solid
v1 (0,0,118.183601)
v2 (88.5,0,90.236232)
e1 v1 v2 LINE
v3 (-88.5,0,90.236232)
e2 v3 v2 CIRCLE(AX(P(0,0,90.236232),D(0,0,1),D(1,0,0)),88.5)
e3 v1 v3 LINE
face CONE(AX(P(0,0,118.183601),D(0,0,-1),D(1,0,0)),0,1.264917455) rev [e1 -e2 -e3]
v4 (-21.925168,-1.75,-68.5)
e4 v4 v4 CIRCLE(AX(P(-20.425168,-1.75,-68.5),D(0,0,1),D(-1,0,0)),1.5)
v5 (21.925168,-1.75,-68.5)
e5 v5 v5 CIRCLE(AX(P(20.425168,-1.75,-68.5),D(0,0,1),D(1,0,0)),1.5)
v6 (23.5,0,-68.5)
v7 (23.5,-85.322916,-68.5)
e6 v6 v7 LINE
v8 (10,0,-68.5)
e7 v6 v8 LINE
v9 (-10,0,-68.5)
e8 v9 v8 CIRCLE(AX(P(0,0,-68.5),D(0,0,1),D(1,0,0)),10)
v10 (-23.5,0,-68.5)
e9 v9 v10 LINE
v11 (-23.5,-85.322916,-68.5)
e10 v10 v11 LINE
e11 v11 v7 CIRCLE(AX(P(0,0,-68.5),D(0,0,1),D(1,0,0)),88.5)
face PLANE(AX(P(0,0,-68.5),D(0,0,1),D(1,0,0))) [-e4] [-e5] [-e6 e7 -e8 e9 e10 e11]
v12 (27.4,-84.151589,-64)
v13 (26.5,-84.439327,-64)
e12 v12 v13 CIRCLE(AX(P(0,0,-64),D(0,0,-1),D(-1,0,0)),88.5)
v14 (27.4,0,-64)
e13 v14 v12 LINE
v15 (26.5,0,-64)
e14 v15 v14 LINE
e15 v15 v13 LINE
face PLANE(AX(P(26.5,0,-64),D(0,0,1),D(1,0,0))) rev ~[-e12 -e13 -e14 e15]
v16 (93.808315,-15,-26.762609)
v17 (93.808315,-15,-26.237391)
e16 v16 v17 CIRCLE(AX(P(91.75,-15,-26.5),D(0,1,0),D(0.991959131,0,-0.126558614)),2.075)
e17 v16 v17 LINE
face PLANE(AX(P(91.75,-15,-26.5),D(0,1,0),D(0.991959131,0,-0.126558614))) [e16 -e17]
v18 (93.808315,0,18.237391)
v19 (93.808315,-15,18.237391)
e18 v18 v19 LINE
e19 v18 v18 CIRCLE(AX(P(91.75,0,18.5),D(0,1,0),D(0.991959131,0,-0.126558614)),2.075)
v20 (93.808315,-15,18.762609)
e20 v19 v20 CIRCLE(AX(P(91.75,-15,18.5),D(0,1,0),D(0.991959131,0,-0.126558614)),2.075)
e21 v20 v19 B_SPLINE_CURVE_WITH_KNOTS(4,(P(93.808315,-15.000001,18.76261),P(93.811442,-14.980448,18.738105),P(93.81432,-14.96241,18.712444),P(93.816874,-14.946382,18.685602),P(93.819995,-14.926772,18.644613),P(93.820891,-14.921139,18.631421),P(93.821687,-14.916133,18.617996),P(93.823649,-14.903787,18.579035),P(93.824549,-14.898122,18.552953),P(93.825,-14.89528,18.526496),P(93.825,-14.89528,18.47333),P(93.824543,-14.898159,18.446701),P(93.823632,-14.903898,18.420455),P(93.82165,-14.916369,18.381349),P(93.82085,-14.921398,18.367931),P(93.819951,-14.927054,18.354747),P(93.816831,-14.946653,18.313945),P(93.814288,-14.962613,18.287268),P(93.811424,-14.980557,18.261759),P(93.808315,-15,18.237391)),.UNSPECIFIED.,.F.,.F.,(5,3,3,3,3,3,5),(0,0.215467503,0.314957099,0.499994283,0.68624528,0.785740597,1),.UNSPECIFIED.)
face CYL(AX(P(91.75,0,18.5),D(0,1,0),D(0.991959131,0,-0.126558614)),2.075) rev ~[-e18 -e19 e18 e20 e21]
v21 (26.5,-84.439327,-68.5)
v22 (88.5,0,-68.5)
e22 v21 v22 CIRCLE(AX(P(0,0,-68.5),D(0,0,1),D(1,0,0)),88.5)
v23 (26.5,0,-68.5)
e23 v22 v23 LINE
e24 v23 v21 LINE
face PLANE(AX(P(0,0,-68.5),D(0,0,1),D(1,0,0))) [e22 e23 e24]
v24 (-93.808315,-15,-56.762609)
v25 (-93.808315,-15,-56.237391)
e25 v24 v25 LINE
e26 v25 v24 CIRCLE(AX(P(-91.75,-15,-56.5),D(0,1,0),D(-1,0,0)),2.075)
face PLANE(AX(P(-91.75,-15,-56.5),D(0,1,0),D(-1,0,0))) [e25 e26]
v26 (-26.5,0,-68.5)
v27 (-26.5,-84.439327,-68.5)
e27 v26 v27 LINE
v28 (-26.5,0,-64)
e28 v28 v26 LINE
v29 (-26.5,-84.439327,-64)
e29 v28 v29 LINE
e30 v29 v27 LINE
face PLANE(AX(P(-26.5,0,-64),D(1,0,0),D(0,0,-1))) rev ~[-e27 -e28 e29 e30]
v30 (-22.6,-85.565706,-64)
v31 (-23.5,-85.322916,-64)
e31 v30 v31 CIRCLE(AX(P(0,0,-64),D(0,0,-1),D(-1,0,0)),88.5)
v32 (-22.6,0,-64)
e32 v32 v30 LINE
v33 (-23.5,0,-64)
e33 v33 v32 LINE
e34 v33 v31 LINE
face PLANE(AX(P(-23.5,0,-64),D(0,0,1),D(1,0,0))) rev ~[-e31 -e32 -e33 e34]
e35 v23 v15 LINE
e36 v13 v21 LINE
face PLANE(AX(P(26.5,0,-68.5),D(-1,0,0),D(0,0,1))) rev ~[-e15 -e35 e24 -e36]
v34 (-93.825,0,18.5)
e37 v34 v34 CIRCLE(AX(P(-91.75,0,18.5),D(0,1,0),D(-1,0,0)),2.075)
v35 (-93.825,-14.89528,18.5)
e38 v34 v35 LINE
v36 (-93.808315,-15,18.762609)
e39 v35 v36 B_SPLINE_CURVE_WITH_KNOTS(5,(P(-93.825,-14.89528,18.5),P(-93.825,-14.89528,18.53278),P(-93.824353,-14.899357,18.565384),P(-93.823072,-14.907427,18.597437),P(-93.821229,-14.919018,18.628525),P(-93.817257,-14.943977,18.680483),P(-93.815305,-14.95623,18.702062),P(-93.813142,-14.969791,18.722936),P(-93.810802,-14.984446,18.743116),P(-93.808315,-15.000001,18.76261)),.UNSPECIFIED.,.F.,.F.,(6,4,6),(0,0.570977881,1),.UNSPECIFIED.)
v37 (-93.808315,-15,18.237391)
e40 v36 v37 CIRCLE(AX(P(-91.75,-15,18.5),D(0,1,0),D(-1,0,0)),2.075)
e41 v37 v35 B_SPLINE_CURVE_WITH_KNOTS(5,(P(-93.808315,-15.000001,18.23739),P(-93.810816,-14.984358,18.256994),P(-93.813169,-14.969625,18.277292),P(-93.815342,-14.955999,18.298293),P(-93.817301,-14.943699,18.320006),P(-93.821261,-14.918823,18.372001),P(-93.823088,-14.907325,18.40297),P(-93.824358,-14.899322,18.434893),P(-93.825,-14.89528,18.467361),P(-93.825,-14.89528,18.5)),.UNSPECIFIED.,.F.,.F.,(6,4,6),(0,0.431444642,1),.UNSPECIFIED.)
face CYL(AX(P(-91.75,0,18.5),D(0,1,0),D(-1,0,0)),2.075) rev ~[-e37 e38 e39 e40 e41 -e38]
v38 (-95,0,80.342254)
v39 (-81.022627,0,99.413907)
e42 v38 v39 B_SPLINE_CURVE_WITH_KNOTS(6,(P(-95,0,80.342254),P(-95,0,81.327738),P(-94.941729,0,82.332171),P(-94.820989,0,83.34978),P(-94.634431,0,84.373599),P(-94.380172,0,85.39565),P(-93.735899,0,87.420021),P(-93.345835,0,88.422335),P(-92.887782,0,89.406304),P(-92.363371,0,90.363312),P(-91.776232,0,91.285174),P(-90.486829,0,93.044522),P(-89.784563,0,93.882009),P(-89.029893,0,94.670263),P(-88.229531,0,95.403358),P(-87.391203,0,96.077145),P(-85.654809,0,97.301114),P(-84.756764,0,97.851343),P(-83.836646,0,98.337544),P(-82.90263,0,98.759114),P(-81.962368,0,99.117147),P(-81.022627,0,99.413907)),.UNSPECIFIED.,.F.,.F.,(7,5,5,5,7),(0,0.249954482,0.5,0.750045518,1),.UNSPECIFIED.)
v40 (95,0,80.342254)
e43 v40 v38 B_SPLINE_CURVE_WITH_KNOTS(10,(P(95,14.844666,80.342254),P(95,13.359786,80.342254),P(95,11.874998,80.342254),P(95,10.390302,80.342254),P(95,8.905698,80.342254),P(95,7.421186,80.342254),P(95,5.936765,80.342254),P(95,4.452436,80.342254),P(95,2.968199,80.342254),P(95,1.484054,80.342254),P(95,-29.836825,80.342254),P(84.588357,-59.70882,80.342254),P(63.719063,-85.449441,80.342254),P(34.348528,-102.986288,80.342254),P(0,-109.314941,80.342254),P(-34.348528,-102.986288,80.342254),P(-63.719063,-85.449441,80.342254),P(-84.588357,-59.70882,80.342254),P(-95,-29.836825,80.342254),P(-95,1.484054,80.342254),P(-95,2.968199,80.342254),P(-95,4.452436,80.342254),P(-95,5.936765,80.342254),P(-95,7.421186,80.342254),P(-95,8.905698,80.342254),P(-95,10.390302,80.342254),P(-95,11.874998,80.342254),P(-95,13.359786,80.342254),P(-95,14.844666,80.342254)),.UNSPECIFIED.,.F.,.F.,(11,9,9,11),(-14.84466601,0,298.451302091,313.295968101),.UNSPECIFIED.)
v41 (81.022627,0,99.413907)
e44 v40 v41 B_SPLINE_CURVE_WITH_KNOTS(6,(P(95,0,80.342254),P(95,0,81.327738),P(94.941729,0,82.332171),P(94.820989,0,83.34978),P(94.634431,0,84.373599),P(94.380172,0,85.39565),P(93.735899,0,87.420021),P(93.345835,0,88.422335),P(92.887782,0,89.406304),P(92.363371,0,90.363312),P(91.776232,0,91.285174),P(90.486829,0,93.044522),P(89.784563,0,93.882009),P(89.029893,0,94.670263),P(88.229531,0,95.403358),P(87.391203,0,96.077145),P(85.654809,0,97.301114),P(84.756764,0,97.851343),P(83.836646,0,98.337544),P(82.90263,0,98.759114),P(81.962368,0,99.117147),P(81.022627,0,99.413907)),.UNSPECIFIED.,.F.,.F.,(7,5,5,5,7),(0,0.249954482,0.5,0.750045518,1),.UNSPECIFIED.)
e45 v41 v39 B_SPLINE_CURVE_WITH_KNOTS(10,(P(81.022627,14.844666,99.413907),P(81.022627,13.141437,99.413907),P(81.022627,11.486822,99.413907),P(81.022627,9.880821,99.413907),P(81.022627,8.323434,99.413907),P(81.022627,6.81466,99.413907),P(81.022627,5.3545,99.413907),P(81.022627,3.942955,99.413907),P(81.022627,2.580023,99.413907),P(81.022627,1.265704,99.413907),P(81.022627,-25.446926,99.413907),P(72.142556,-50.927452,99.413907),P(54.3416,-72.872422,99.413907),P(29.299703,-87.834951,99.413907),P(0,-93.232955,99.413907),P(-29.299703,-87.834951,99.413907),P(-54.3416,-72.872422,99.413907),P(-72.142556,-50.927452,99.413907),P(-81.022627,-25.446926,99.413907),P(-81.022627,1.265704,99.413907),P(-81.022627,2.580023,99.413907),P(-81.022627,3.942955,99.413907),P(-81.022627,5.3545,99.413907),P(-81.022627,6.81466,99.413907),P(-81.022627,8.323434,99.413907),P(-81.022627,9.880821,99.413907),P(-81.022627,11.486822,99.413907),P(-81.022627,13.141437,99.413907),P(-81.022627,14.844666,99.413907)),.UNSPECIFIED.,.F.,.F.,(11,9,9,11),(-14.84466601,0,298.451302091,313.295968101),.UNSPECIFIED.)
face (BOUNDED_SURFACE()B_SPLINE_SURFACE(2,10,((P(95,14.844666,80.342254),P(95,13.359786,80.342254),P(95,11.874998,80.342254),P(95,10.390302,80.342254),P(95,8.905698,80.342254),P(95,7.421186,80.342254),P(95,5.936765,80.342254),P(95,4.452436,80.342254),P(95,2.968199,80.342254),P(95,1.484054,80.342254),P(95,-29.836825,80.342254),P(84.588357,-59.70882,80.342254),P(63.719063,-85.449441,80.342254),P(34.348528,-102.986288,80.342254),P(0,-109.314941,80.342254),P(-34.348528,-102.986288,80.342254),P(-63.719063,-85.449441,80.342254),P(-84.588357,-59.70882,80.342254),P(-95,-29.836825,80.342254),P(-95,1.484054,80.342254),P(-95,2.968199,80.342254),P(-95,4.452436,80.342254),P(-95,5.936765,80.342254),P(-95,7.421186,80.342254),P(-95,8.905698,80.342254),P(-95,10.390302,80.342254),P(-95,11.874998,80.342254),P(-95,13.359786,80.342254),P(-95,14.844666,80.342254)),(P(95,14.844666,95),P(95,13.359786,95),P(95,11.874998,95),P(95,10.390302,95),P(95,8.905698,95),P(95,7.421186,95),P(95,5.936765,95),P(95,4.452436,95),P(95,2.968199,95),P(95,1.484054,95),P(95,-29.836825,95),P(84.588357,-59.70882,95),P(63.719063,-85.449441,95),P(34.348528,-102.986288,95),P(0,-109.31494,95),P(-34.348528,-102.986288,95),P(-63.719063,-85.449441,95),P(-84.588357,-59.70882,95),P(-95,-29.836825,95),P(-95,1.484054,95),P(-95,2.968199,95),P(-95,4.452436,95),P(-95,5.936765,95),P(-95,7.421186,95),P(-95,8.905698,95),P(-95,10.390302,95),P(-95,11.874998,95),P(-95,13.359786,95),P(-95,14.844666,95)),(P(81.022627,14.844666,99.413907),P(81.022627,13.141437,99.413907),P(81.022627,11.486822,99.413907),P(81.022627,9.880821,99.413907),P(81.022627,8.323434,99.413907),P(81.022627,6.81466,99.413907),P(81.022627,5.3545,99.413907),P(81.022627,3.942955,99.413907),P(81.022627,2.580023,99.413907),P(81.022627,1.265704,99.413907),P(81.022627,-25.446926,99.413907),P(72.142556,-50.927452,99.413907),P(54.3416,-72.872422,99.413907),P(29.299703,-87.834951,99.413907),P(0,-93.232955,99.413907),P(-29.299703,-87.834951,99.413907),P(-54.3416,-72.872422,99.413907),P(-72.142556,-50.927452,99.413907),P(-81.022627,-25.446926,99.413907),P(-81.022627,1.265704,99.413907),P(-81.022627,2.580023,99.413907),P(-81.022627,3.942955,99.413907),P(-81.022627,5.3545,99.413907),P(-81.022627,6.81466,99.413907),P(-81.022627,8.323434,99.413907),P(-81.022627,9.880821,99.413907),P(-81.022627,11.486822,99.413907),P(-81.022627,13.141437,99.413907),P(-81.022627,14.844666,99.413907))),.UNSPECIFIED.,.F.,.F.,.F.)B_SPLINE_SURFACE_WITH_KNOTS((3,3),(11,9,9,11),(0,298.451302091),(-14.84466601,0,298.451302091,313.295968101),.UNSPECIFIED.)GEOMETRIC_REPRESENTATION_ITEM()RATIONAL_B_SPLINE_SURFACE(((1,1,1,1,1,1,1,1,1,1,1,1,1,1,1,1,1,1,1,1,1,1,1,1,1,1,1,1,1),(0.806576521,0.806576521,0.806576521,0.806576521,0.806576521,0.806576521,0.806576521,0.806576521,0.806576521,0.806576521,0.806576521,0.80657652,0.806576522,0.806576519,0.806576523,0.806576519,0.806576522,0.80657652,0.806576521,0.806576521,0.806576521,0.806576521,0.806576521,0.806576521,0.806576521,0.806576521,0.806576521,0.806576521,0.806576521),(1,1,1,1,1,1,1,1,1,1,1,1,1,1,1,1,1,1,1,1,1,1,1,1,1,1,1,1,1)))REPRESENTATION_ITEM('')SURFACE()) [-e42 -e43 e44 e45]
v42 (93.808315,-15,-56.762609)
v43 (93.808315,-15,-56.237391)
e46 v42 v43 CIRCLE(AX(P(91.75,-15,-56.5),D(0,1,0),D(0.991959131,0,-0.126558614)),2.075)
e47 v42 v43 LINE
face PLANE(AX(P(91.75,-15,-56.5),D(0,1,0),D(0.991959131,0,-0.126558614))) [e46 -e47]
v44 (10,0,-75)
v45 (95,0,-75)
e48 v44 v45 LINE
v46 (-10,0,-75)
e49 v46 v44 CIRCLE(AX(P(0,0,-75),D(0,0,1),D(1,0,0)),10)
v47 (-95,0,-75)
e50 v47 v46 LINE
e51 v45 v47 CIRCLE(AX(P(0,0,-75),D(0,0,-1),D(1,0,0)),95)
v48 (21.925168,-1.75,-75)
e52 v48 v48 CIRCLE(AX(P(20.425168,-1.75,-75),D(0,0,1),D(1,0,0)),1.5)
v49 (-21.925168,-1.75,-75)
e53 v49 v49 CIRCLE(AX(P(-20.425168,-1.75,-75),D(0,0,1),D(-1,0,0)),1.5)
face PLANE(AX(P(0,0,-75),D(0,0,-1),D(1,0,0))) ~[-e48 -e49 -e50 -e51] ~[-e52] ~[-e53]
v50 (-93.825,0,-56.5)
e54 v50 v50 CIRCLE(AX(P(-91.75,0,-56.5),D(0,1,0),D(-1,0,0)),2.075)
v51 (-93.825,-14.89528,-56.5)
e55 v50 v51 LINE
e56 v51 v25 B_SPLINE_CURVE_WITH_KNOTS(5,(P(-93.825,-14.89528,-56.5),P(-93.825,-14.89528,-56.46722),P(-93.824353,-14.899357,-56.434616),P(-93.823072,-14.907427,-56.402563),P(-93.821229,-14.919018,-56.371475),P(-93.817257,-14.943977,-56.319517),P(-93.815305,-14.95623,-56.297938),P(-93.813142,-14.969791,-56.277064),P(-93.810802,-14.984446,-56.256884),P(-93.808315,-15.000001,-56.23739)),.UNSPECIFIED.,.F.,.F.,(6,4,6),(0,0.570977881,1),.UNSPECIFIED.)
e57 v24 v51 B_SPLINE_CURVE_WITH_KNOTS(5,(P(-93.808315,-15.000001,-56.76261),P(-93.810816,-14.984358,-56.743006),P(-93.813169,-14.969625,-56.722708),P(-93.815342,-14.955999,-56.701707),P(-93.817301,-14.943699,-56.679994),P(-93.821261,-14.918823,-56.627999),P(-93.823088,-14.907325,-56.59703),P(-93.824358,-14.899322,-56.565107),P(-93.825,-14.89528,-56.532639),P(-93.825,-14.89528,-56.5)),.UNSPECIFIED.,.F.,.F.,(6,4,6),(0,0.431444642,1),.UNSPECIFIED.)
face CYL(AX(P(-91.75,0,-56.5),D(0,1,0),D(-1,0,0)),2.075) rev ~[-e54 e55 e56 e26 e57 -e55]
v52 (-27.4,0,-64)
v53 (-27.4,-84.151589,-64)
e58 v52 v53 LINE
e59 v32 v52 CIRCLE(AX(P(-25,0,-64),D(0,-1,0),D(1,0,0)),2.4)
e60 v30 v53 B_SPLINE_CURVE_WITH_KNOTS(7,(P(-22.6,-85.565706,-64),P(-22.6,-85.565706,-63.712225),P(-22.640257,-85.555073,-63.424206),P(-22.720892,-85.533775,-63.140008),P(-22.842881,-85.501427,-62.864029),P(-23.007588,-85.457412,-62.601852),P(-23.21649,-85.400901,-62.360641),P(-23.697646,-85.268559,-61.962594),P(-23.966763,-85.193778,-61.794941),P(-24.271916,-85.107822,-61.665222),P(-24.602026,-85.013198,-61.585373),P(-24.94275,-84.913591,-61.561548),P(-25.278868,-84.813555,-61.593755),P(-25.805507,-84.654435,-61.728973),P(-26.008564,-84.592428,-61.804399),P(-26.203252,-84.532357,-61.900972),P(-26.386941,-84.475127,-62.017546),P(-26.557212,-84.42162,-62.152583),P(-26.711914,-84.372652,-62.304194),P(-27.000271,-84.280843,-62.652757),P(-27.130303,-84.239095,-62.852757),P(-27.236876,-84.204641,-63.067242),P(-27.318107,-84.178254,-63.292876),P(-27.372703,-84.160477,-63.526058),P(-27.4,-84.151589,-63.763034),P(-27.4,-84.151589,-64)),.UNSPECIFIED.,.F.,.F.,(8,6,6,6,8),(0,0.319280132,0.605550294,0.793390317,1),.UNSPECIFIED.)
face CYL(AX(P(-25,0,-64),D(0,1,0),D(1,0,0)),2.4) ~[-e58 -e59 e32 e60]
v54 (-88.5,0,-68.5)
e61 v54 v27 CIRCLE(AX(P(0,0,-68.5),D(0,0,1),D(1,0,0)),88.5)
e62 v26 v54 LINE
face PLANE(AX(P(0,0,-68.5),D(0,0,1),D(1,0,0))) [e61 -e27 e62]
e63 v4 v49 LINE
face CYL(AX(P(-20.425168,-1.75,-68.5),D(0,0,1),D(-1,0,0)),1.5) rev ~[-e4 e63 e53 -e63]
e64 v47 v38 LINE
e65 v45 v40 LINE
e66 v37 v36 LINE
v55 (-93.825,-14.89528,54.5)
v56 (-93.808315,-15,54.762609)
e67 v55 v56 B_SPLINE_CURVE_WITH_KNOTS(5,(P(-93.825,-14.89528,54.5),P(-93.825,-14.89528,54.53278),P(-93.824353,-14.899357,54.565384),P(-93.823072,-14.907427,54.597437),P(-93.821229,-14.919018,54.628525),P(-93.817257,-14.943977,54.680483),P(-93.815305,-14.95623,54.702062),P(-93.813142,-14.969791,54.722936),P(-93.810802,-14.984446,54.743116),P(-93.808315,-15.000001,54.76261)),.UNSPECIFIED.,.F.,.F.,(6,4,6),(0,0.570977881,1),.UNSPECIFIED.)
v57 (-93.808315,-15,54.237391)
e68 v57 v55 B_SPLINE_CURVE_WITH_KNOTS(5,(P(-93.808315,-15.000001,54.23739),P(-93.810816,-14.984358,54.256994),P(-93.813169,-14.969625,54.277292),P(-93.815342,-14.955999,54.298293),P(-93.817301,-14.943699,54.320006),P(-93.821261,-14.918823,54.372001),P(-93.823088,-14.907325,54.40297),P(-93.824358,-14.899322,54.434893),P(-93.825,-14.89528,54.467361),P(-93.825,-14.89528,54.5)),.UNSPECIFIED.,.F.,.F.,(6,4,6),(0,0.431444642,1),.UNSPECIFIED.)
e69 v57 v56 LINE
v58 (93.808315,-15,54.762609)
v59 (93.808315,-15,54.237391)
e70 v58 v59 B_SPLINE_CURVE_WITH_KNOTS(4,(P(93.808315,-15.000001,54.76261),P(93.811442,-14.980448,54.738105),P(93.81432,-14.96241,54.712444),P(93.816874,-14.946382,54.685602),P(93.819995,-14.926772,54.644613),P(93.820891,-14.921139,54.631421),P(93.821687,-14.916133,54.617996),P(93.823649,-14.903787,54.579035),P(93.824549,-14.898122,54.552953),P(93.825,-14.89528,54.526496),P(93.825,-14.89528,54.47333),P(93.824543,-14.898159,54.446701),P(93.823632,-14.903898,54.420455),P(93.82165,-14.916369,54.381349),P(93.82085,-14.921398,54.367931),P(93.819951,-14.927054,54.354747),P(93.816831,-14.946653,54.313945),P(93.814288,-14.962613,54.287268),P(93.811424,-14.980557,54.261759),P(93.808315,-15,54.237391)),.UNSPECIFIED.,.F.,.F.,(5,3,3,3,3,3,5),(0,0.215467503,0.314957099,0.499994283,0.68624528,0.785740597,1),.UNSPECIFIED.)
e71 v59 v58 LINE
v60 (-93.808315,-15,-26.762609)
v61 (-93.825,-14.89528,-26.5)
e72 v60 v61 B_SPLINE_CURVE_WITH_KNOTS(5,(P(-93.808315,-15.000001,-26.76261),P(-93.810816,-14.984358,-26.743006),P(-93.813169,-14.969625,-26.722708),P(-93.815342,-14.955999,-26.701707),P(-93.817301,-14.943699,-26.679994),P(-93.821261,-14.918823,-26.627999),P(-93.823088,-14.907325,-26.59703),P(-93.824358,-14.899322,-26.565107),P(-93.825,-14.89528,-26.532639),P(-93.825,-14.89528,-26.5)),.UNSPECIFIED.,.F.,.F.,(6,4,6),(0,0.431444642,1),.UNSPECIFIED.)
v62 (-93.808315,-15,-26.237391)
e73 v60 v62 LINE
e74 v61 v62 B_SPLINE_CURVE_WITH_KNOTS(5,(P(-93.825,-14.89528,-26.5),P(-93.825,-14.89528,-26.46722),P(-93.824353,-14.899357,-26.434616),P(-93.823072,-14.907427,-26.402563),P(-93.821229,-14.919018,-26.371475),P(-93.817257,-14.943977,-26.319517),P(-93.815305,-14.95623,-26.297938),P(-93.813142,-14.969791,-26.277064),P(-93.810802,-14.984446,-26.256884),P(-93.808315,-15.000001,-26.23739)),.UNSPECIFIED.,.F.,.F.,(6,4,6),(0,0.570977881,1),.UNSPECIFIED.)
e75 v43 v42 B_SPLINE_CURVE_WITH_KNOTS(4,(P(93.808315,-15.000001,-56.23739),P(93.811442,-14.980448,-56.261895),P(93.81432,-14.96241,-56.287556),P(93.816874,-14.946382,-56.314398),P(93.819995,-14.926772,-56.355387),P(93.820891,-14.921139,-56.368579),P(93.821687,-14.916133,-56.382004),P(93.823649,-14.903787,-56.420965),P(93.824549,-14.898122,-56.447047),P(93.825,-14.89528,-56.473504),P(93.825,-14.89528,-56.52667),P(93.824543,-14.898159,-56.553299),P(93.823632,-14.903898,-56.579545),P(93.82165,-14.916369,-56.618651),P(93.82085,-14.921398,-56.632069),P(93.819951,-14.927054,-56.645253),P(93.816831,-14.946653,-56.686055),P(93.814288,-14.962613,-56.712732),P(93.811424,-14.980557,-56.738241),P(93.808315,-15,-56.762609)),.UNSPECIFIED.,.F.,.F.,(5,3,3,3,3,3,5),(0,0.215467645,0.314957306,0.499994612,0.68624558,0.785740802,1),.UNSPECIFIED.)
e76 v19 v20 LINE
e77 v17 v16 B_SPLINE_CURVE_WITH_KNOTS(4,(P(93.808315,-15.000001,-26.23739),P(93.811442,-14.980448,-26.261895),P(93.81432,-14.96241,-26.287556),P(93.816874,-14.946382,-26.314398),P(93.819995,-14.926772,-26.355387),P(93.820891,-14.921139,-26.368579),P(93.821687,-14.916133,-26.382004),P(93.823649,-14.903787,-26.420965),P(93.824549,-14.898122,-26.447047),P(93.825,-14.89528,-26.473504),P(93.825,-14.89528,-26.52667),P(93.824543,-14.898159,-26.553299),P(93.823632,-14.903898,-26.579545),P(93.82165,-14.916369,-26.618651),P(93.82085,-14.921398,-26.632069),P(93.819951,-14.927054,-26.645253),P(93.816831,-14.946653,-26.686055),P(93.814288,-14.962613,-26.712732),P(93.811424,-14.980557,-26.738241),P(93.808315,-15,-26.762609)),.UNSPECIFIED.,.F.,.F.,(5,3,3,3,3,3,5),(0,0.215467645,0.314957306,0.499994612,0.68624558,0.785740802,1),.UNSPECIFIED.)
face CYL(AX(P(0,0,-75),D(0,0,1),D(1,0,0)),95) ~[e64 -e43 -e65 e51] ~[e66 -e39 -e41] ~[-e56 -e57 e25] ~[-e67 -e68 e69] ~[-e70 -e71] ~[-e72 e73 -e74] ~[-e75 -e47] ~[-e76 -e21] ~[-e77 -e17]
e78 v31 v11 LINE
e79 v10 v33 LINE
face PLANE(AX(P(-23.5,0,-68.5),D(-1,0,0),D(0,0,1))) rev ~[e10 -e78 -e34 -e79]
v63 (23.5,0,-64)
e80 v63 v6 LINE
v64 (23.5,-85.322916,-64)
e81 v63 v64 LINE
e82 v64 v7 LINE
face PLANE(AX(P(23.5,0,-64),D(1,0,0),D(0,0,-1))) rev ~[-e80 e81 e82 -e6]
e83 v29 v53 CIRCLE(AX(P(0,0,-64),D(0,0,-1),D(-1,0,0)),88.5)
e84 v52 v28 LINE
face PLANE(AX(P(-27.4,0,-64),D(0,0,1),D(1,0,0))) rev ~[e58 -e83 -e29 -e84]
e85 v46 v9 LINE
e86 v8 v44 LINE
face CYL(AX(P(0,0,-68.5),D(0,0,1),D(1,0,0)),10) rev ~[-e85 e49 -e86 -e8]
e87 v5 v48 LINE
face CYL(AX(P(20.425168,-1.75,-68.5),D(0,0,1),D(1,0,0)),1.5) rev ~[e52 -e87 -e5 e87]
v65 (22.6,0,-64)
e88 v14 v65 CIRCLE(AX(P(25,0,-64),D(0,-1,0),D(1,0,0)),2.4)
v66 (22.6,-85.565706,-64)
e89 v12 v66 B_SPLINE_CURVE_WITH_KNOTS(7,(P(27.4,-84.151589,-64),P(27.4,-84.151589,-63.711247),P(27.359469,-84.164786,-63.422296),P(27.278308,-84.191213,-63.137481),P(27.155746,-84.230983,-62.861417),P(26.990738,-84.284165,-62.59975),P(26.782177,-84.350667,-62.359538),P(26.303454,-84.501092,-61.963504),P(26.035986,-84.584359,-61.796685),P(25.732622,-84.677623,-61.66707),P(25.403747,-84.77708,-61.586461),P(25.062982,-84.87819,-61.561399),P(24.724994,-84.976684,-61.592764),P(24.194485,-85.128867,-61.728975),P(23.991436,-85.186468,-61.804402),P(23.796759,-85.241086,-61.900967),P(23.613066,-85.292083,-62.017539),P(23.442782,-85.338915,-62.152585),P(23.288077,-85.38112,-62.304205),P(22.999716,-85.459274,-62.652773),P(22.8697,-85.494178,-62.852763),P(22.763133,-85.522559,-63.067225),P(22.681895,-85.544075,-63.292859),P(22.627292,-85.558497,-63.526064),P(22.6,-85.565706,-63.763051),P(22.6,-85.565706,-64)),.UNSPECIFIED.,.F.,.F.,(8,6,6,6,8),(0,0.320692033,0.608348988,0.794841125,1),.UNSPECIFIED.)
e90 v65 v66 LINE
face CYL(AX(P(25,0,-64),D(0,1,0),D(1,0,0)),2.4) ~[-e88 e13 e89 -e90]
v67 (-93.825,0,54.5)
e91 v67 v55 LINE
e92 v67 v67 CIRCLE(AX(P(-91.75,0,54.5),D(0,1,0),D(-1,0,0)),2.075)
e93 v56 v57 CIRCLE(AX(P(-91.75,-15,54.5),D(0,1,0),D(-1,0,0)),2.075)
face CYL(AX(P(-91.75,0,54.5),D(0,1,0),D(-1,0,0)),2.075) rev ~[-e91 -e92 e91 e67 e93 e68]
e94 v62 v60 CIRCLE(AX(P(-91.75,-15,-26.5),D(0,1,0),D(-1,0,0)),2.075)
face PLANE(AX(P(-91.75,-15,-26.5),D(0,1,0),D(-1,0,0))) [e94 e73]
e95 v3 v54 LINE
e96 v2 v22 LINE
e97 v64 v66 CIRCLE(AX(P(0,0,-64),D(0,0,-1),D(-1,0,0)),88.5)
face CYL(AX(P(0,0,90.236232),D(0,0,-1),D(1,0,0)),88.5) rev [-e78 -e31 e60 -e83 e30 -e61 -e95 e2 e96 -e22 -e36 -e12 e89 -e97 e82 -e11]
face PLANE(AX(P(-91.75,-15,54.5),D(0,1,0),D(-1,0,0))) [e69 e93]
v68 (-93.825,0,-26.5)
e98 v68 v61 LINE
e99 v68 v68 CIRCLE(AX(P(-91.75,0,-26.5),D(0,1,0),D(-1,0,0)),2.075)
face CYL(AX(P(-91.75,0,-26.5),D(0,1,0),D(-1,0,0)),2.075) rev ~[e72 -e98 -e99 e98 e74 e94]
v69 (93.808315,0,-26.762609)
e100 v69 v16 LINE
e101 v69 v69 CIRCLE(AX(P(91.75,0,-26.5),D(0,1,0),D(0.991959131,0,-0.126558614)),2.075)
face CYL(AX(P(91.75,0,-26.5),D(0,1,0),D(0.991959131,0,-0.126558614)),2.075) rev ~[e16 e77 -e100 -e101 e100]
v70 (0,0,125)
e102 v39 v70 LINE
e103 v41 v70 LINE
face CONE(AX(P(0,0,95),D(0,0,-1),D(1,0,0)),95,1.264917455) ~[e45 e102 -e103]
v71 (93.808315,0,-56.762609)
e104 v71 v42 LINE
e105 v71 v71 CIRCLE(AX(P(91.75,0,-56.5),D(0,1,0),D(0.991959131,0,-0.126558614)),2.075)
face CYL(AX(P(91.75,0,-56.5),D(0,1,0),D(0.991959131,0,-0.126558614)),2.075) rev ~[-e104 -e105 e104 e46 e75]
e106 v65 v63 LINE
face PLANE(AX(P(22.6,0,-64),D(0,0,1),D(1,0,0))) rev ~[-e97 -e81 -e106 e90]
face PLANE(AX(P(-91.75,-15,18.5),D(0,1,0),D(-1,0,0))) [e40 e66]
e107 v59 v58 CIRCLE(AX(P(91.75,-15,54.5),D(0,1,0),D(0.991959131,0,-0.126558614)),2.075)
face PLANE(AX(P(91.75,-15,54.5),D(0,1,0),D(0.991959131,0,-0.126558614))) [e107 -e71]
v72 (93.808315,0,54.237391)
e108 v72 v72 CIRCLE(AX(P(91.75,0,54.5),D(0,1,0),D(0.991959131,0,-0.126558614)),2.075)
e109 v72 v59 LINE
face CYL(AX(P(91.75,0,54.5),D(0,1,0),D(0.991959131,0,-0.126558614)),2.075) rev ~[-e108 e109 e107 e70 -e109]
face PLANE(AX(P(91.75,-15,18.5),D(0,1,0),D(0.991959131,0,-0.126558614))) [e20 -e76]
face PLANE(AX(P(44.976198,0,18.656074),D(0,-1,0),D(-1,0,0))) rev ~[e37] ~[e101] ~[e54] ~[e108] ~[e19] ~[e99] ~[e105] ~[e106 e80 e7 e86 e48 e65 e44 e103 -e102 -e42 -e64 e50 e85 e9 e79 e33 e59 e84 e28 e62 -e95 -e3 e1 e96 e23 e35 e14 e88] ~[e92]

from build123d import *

# Parameters (mm, degrees)
REVOLVE1_ANGLE           = 180
BOSS_EXTRUDE8_REACH      = 185.507
BOSS_EXTRUDE8_END_RADIUS = 88.5
SKETCH7_R                = 10
SKETCH7_R_2              = 1.5
CUT_EXTRUDE1_DEPTH       = 10
SKETCH3_R                = 2.075
CUT_EXTRUDE3_DEPTH       = 15
FILLET1_R                = 20


with BuildPart() as part:
    # Sketch1 → Revolve1 (revolve)
    with BuildSketch(Plane(origin=(0, 0, 0), x_dir=(1, 0, 0), z_dir=(0, 1, 0))):
        Polygon((0, 75), (95, 75), (95, -95), (0, -125), align=None)
    revolve(axis=Axis((0, 0, 125), (0, 0, -1)), revolution_arc=REVOLVE1_ANGLE)

    # Sketch2 → Cut-Revolve3 (revolve, cut)
    with BuildSketch(Plane(origin=(0, 0, 0), x_dir=(1, 0, 0), z_dir=(0, 1, 0))):
        Polygon((0, 68.5), (0, -118.183600921), (88.5, -90.2362325), (88.5, 68.5), align=None)
    revolve(axis=Axis((0, 0, -68.5), (0, 0, 1)), mode=Mode.SUBTRACT)

    # Boss-Extrude8: up to this cylinder (the profile starts inside it)
    boss_extrude8_end = Plane(origin=(0, 0, -64.938407), z_dir=(0, 0, -1)) * Cylinder(BOSS_EXTRUDE8_END_RADIUS, 549.014, mode=Mode.PRIVATE)
    # Sketch5 → Boss-Extrude8 (add, up to the surface)
    with BuildSketch(Plane(origin=(0, 0, 0), x_dir=(1, 0, 0), z_dir=(0, 1, 0)), mode=Mode.PRIVATE) as boss_extrude8_sk1:
        with BuildLine():
            Line((23.5, 64), (23.5, 68.5))
            Line((23.5, 68.5), (26.5, 68.5))
            Line((26.5, 68.5), (26.5, 64))
            Line((26.5, 64), (27.4, 64))
            ThreePointArc((27.4, 64), (25, 61.6), (22.6, 64))
            Line((22.6, 64), (23.5, 64))
        make_face()
    boss_extrude8_tool1 = extrude(boss_extrude8_sk1.sketch, amount=-BOSS_EXTRUDE8_REACH, mode=Mode.PRIVATE) & boss_extrude8_end
    add(boss_extrude8_tool1.solids().sort_by_distance((25, 0, -64.938407))[0])
    # Sketch5 → Boss-Extrude8 (add, up to the surface)
    with BuildSketch(Plane(origin=(0, 0, 0), x_dir=(1, 0, 0), z_dir=(0, 1, 0)), mode=Mode.PRIVATE) as boss_extrude8_sk2:
        with BuildLine():
            Line((-27.4, 64), (-26.5, 64))
            Line((-26.5, 64), (-26.5, 68.5))
            Line((-26.5, 68.5), (-23.5, 68.5))
            Line((-23.5, 68.5), (-23.5, 64))
            Line((-23.5, 64), (-22.6, 64))
            ThreePointArc((-22.6, 64), (-25, 61.6), (-27.4, 64))
        make_face()
    boss_extrude8_tool2 = extrude(boss_extrude8_sk2.sketch, amount=-BOSS_EXTRUDE8_REACH, mode=Mode.PRIVATE) & boss_extrude8_end
    add(boss_extrude8_tool2.solids().sort_by_distance((-25, 0, -64.938407))[0])

    # Sketch7 → Cut-Extrude1 (cut)
    with BuildSketch(Plane.XY.offset(-68.5)):
        Circle(SKETCH7_R)
        with Locations((20.425168298, -1.75)):
            Circle(SKETCH7_R_2)
        with Locations(Location((-20.425168298, -1.75, 0), (0, 0, 180))):
            Circle(SKETCH7_R_2)
    extrude(amount=-CUT_EXTRUDE1_DEPTH, mode=Mode.SUBTRACT)

    # Sketch3 → Cut-Extrude3 (cut)
    with BuildSketch(Plane(origin=(0, 0, 0), x_dir=(1, 0, 0), z_dir=(0, 1, 0))):
        with Locations(Location((-91.75, 56.5, 0), (0, 0, 180))):
            Circle(SKETCH3_R)
        with Locations(Location((-91.75, 26.5, 0), (0, 0, 180))):
            Circle(SKETCH3_R)
        with Locations(Location((-91.75, -18.5, 0), (0, 0, 180))):
            Circle(SKETCH3_R)
        with Locations(Location((-91.75, -54.5, 0), (0, 0, 180))):
            Circle(SKETCH3_R)
        with Locations(Location((91.75, -54.5, 0), (0, 0, 7.270772685))):
            Circle(SKETCH3_R)
        with Locations(Location((91.75, -18.5, 0), (0, 0, 7.270772685))):
            Circle(SKETCH3_R)
        with Locations(Location((91.75, 26.5, 0), (0, 0, 7.270772685))):
            Circle(SKETCH3_R)
        with Locations(Location((91.75, 56.5, 0), (0, 0, 7.270772685))):
            Circle(SKETCH3_R)
    extrude(amount=-CUT_EXTRUDE3_DEPTH, mode=Mode.SUBTRACT)

    # Fillet1
    fillet1_edges = [part.edges().sort_by_distance(p)[0] for p in [
        (0, -95, 95),
    ]]
    fillet(fillet1_edges, radius=FILLET1_R)


solid = part.part
